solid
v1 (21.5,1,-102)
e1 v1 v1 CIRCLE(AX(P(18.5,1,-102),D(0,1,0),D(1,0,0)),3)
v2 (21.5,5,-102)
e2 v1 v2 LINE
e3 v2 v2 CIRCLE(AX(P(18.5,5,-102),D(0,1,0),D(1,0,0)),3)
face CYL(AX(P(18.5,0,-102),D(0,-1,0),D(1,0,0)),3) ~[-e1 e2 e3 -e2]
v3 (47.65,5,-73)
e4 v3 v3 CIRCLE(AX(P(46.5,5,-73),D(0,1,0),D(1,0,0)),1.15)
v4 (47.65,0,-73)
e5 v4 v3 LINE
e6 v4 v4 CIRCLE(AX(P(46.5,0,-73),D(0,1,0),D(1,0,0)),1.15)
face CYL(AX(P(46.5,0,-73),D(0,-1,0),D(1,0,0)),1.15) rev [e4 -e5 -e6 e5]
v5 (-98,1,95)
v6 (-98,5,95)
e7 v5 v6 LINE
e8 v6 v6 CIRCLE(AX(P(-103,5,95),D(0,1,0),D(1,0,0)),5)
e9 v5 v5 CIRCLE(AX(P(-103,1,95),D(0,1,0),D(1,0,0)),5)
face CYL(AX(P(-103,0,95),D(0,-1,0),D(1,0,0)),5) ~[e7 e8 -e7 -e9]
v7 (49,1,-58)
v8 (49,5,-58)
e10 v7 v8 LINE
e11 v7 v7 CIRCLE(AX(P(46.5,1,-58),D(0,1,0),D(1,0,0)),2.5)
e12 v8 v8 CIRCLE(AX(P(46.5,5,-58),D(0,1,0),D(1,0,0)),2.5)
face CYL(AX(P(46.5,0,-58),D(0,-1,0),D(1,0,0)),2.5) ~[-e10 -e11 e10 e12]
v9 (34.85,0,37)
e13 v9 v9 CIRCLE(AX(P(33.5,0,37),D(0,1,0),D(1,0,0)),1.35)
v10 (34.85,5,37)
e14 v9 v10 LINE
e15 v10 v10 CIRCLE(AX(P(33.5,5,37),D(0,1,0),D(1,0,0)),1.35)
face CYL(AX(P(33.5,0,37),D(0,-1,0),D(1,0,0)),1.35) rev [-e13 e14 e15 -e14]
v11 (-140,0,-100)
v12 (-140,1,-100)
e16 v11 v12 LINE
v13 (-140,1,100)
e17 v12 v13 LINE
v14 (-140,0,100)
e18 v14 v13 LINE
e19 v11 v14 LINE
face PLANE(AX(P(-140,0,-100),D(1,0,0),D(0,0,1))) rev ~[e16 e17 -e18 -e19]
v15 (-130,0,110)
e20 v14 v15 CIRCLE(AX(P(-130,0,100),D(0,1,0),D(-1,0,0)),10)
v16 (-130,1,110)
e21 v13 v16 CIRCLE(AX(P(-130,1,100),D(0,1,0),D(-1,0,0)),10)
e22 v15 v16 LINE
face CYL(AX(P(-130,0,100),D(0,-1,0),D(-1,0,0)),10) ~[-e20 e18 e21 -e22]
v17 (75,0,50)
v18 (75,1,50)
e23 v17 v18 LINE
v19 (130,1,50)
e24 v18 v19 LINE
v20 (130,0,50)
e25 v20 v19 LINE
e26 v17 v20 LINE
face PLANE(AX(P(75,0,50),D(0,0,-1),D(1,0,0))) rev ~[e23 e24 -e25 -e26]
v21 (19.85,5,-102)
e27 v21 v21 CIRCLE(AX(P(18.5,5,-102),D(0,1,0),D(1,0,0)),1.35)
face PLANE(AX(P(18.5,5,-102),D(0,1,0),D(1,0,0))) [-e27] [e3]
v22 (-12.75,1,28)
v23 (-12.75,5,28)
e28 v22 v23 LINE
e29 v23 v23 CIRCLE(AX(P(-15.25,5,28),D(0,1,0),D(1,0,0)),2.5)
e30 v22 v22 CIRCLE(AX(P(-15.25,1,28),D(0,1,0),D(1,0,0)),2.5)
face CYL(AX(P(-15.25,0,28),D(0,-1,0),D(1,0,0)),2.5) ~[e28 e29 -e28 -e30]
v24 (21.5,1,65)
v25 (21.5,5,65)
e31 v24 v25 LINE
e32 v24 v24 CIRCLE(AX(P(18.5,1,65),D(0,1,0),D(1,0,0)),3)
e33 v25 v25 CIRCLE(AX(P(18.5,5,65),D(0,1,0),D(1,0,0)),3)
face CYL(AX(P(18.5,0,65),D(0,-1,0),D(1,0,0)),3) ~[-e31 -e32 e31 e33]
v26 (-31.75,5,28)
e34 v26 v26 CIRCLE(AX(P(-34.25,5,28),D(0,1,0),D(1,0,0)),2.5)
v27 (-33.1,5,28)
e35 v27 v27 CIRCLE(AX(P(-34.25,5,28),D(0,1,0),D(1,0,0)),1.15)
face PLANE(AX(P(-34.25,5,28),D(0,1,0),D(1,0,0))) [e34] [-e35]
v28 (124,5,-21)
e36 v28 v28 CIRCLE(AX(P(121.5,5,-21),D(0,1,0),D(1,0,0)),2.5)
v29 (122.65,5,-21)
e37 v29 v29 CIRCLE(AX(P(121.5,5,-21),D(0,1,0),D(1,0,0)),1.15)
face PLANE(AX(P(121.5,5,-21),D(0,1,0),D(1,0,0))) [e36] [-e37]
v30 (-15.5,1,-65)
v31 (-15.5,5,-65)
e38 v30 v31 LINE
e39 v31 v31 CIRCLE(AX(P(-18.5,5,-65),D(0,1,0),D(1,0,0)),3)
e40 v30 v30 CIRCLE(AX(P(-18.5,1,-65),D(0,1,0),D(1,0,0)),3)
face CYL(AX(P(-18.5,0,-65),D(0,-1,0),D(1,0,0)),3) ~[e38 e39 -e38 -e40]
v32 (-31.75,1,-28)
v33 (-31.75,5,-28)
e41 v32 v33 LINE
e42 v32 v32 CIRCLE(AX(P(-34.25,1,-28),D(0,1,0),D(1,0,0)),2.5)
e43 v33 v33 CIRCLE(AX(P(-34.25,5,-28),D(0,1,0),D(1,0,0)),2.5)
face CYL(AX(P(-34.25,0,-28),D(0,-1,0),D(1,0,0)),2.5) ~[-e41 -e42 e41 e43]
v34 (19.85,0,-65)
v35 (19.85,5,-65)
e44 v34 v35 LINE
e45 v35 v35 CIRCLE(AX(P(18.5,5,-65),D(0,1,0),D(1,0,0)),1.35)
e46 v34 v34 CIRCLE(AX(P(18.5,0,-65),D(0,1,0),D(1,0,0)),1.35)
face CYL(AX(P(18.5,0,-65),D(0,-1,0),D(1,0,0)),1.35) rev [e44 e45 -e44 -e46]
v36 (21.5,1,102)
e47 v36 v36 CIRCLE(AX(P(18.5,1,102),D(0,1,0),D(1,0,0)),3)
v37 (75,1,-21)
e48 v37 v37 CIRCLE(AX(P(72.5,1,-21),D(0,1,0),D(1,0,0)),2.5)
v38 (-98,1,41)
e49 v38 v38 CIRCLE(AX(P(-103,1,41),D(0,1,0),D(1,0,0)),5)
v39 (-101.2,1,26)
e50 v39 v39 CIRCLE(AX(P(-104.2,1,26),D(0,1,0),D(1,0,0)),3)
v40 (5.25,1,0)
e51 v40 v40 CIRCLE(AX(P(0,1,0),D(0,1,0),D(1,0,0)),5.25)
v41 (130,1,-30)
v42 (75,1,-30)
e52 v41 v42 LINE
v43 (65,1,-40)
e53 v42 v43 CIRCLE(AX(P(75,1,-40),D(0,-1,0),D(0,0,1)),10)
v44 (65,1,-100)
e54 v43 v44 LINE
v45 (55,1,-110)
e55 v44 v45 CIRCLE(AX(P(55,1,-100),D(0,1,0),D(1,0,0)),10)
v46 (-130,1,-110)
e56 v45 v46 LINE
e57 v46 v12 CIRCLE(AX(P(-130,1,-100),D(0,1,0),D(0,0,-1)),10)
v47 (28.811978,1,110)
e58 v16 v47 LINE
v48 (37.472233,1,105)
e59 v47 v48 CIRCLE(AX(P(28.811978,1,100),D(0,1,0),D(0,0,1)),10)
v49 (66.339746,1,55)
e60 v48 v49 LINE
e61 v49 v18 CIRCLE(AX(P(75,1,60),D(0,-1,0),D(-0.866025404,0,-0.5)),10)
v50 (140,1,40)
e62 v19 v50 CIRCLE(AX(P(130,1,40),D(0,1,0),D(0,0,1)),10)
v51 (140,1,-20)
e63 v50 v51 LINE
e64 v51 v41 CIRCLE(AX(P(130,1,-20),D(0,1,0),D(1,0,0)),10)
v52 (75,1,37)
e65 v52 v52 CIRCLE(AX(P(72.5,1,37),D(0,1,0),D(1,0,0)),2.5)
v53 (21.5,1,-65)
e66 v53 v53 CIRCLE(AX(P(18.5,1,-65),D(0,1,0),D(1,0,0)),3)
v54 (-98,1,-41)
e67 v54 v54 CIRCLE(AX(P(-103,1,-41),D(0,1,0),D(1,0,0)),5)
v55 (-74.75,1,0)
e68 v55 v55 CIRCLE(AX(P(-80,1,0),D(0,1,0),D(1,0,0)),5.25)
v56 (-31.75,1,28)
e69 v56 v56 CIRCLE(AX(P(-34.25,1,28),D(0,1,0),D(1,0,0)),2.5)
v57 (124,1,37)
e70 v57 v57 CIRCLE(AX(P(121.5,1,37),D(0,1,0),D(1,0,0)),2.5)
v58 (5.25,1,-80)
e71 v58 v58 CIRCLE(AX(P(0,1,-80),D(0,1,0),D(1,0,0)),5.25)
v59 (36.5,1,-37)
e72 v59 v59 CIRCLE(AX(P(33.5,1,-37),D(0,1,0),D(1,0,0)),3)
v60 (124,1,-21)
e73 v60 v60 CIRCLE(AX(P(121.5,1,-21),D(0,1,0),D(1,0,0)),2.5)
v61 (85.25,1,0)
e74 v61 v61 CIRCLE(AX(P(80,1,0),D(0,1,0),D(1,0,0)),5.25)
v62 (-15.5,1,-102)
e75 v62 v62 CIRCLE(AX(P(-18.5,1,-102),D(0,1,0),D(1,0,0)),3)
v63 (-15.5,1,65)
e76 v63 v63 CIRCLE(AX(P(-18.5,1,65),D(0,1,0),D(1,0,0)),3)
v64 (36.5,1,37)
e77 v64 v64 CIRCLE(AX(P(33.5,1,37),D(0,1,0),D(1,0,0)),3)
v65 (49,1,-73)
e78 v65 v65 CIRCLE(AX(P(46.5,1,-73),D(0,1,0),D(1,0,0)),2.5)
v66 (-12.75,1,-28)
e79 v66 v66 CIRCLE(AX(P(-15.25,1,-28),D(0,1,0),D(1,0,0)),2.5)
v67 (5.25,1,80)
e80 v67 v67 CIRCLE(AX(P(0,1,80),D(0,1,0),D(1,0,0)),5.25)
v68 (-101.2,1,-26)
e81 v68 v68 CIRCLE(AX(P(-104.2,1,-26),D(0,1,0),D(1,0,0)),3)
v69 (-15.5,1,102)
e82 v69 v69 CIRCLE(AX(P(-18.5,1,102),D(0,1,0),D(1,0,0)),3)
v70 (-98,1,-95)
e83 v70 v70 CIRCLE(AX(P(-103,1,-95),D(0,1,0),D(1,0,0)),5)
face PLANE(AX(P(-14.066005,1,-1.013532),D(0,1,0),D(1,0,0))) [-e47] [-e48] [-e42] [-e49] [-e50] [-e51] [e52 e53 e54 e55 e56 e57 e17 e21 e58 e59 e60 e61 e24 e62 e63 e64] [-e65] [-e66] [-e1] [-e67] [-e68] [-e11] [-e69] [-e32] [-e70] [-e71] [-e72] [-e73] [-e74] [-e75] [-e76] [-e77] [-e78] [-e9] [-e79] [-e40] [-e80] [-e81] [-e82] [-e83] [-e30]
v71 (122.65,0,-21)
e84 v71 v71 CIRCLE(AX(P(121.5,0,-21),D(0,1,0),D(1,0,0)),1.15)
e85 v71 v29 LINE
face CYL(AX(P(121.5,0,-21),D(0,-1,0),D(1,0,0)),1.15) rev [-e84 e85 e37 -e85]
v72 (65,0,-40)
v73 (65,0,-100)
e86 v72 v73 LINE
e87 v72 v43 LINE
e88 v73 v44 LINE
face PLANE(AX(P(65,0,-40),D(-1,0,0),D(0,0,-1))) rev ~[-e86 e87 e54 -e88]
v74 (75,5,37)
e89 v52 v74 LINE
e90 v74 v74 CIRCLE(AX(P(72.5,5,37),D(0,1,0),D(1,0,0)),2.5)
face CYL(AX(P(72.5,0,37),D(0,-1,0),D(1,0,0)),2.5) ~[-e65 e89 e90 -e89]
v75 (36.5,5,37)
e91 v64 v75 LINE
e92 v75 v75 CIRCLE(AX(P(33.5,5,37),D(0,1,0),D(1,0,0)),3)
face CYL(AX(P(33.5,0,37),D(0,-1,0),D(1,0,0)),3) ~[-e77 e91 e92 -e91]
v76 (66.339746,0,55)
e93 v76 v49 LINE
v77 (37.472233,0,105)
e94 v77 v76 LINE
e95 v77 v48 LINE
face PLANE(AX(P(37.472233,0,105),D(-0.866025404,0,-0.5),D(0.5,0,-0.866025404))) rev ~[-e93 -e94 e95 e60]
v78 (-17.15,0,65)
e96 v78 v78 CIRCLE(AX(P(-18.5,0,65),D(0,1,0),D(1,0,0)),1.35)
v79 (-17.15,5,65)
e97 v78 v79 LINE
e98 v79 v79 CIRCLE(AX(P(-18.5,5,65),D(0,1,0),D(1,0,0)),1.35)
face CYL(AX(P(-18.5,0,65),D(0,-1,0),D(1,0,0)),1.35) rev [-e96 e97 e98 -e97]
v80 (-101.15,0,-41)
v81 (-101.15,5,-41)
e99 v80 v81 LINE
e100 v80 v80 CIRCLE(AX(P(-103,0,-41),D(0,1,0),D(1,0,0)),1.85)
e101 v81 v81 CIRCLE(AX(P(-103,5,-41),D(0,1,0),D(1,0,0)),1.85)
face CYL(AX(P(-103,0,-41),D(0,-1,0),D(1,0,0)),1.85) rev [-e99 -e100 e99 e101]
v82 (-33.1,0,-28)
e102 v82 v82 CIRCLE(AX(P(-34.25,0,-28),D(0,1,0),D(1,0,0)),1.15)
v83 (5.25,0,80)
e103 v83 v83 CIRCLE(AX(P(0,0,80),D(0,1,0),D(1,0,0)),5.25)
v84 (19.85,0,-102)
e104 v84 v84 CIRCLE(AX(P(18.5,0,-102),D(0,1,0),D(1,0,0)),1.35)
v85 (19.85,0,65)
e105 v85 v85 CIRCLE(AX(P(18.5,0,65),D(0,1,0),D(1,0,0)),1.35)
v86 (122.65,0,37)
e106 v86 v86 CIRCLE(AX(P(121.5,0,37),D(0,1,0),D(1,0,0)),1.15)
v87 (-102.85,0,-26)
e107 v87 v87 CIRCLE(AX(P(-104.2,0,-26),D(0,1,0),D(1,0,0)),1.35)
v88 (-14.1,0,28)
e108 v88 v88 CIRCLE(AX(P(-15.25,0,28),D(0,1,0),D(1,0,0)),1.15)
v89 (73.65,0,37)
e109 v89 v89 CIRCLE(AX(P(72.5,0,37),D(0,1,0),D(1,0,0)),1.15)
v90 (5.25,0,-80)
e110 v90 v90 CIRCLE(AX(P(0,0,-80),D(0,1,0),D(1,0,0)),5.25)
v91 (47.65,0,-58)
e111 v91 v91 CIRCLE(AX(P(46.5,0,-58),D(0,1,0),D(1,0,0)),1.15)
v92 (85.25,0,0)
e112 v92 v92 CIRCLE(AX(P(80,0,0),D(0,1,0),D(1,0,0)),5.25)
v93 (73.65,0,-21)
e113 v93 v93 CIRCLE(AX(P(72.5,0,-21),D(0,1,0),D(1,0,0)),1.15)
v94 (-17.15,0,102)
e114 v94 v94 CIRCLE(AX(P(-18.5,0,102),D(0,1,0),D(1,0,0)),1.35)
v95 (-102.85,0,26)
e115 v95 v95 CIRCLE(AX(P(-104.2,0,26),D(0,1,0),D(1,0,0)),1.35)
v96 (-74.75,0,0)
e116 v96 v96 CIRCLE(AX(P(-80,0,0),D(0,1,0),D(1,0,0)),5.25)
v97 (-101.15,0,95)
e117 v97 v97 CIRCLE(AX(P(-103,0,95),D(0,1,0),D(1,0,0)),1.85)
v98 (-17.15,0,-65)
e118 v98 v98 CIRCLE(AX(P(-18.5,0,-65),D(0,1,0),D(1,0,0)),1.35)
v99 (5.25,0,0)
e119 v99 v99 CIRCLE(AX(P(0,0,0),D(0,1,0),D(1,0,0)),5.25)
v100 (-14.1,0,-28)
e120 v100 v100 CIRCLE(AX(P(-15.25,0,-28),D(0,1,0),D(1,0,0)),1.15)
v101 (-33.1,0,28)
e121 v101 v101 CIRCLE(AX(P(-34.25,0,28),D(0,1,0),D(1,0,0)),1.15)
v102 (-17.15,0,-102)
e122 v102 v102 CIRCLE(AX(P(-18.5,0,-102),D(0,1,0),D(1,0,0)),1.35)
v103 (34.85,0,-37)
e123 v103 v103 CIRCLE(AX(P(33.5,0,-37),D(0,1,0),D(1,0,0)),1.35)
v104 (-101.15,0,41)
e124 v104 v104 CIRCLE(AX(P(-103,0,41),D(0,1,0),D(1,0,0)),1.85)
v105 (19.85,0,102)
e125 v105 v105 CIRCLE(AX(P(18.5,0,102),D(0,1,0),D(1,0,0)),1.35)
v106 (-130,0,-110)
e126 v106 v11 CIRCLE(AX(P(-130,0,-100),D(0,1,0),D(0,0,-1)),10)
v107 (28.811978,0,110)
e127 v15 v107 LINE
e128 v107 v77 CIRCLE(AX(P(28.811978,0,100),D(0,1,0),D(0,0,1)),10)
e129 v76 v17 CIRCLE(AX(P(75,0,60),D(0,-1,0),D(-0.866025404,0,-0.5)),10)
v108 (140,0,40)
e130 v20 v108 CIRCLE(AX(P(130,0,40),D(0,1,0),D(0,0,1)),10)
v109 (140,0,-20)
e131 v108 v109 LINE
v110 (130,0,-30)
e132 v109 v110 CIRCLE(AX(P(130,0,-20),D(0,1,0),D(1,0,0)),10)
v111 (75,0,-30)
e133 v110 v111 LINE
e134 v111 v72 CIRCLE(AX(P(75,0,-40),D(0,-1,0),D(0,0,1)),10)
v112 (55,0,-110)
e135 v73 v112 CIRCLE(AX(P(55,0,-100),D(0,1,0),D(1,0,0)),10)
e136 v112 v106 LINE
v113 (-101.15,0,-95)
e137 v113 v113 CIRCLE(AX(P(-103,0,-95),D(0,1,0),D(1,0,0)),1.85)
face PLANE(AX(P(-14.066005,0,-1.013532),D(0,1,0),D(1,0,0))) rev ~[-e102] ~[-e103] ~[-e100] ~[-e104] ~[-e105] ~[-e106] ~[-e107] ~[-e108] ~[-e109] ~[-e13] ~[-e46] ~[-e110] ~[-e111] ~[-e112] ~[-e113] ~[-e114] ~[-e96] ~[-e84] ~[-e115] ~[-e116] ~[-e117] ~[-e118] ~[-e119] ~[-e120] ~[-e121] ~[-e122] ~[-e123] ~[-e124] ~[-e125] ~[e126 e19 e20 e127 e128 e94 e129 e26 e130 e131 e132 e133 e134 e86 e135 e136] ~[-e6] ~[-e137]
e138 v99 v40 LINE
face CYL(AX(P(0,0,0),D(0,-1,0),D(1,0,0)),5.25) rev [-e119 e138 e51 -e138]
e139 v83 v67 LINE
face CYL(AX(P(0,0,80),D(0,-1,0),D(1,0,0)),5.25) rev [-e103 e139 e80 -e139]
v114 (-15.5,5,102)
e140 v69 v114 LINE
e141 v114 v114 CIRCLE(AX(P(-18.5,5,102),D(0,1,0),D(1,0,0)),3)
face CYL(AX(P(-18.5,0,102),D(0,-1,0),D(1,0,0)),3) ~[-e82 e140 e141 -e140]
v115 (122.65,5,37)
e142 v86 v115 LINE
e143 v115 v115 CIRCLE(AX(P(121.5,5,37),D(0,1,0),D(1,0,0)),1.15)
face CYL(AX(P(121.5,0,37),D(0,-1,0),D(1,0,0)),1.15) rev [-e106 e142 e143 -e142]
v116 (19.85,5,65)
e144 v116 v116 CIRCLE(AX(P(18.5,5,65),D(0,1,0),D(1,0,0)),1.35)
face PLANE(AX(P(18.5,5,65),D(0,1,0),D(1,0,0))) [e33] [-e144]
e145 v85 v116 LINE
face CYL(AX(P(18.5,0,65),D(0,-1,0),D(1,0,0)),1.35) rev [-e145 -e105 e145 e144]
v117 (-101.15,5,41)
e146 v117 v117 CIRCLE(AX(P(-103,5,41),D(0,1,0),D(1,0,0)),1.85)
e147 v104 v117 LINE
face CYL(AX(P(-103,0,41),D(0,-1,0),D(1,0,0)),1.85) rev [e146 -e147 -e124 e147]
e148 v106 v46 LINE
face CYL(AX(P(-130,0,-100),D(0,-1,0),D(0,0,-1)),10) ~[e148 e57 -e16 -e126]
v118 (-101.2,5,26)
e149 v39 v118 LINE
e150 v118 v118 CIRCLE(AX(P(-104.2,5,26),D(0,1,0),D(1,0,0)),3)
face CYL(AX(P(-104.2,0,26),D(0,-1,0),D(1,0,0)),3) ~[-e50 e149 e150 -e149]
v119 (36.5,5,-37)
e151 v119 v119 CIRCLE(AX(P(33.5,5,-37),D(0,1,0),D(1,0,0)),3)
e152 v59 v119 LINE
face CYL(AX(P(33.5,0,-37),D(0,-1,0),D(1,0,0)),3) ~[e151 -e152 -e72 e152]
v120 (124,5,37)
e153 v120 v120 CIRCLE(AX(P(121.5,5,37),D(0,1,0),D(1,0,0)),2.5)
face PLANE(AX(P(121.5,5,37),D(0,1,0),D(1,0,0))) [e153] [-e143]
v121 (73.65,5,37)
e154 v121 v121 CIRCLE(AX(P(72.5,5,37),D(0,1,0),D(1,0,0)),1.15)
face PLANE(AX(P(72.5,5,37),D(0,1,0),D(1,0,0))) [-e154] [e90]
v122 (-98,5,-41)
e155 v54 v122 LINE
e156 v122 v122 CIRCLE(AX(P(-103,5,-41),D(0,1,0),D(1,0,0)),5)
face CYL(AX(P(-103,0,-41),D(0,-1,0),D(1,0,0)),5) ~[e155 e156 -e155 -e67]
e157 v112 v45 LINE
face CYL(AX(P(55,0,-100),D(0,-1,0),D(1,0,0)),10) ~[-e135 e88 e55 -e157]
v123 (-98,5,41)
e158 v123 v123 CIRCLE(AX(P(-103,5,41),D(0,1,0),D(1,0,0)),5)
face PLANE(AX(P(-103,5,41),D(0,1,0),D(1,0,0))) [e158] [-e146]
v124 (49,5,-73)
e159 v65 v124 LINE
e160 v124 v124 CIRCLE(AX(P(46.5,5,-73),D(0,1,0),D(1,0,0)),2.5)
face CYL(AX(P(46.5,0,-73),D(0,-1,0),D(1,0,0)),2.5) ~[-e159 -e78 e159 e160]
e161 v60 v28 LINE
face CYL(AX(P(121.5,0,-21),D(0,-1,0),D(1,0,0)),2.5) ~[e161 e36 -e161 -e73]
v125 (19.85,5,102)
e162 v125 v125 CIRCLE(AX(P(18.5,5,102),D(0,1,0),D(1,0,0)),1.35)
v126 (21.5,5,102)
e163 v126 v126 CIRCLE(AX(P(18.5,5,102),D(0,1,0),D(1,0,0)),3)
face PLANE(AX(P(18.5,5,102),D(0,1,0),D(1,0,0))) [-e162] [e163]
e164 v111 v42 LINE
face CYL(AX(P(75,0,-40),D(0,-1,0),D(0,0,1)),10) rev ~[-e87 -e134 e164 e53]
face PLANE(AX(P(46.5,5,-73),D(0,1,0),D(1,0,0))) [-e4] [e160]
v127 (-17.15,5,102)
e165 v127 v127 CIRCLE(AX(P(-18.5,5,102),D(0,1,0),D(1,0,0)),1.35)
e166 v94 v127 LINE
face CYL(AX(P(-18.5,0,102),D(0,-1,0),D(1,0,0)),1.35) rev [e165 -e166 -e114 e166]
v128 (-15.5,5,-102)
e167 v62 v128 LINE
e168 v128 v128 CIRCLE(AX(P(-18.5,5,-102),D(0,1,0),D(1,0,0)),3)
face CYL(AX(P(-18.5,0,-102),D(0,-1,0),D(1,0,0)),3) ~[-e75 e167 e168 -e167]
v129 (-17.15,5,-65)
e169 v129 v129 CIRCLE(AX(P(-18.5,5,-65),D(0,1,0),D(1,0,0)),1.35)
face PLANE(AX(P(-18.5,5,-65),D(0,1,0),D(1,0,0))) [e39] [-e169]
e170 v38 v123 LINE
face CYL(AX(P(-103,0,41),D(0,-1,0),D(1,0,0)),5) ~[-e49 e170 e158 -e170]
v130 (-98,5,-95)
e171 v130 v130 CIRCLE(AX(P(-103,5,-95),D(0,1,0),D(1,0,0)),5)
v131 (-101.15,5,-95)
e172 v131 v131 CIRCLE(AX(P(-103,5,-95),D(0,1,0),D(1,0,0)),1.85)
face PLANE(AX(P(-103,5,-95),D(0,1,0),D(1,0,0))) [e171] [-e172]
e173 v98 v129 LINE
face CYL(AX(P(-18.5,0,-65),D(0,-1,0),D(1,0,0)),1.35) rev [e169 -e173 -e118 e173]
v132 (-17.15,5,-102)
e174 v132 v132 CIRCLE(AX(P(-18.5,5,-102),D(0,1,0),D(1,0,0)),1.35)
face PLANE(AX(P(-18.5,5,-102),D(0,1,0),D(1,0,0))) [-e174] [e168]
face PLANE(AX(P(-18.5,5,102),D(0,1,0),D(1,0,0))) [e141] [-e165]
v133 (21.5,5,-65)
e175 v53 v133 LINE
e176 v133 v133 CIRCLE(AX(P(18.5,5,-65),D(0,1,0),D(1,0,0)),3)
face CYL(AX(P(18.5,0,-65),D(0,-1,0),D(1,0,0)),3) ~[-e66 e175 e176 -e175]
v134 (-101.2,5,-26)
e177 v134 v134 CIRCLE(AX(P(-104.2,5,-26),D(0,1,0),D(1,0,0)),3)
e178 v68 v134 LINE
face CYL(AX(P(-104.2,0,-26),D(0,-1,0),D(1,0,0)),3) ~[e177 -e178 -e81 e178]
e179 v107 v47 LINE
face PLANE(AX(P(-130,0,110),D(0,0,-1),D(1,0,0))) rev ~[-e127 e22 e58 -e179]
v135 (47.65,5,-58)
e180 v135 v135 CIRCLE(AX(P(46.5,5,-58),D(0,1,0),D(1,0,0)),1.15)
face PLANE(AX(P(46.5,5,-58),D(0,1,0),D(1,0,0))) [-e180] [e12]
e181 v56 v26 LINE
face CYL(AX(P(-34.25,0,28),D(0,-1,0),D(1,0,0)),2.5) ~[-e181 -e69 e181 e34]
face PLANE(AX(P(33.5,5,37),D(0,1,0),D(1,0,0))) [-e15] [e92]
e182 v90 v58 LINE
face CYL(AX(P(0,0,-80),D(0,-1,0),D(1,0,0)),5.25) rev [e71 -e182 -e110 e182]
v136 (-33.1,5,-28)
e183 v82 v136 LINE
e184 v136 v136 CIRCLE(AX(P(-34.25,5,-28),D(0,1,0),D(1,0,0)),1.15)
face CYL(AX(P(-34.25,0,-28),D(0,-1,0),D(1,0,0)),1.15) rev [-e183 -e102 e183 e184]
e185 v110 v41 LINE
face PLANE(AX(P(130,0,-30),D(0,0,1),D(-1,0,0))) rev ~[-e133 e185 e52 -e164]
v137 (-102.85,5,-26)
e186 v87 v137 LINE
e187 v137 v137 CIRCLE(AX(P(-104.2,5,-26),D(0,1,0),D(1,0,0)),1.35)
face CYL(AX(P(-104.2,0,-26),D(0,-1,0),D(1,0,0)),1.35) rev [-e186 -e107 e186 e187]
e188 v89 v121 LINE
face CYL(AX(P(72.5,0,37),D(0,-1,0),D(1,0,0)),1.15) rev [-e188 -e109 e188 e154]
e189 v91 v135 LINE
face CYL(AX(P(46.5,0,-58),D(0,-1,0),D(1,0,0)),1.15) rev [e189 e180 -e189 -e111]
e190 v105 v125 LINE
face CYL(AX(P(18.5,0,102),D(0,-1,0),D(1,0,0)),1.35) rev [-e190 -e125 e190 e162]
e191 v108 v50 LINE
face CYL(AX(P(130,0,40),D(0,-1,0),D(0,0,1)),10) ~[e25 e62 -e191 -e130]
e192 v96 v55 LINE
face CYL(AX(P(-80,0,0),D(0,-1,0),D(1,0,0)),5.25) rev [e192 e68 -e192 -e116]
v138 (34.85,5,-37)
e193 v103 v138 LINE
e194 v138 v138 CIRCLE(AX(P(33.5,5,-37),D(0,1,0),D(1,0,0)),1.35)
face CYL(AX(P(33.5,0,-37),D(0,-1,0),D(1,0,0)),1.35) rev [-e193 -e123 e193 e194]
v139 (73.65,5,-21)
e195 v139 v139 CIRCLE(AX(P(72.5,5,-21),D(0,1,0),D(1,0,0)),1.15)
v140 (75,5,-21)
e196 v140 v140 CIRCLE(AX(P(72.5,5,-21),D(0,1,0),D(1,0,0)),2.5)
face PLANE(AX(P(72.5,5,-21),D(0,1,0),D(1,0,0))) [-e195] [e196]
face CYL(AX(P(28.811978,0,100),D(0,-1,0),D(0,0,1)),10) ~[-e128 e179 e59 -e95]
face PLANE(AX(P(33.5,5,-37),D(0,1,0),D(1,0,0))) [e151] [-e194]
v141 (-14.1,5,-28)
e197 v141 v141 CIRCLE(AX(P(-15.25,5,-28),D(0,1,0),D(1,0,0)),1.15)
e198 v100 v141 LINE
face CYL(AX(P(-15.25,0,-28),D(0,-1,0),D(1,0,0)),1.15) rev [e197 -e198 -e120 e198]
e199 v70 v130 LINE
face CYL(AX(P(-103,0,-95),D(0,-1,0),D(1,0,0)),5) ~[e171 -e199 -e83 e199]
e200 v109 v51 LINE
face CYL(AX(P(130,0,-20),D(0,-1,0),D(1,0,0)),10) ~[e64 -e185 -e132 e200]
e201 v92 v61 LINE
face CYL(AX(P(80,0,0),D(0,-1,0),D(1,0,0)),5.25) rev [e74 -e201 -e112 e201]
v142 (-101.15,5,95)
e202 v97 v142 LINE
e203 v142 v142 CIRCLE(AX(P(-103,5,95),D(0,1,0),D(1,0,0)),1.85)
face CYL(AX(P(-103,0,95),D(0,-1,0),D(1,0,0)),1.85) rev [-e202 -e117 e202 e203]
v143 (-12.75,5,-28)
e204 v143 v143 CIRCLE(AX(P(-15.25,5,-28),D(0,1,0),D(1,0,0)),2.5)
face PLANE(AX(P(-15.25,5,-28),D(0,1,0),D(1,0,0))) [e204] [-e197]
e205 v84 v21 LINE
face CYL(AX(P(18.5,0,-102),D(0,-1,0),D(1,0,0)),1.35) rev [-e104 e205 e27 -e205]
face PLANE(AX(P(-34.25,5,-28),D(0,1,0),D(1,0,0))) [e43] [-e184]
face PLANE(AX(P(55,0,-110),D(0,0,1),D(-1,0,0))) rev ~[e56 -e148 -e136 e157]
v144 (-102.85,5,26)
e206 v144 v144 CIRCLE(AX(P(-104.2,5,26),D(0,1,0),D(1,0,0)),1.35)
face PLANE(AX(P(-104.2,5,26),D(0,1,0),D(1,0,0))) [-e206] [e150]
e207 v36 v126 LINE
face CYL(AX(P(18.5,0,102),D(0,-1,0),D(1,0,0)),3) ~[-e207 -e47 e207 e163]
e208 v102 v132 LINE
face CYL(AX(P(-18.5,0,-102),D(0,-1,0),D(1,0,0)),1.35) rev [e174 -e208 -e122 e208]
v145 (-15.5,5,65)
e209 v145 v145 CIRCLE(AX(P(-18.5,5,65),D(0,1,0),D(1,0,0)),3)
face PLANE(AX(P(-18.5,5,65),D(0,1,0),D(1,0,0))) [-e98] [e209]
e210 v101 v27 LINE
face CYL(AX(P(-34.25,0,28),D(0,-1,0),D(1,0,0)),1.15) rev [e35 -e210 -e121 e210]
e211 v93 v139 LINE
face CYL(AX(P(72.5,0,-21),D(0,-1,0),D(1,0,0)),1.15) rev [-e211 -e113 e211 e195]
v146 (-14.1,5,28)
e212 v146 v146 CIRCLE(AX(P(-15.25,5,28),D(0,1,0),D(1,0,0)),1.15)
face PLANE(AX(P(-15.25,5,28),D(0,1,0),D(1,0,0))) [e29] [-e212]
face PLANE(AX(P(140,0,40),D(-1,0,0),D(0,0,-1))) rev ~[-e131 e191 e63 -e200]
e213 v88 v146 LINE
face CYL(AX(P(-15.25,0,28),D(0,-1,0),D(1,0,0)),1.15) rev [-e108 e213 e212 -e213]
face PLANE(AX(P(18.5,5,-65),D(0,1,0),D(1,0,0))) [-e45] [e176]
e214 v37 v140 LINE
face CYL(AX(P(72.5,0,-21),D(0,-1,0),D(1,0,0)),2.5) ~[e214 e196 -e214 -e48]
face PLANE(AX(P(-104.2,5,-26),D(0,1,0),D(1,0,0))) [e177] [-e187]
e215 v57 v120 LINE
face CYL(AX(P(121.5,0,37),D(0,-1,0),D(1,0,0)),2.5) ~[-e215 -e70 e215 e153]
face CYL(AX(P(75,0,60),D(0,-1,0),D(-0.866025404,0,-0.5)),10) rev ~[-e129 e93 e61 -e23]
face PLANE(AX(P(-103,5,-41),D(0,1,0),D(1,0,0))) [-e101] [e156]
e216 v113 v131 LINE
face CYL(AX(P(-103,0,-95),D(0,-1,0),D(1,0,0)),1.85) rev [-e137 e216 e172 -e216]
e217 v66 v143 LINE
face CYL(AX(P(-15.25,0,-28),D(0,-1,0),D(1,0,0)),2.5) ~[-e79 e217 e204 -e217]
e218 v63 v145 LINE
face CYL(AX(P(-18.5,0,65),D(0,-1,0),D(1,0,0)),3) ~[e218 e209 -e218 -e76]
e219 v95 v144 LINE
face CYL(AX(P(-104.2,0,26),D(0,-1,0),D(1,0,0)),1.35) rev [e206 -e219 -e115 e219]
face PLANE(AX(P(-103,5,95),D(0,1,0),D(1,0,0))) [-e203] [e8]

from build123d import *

# Parameters (mm, degrees)
SKETCH1_R              = 5
SKETCH1_R_2            = 1.85
BOSS_EXTRUDE1_DEPTH    = 5
SKETCH1_R_3            = 3
SKETCH1_R_4            = 1.35
BOSS_EXTRUDE1_2_DEPTH  = 5
BOSS_EXTRUDE1_3_DEPTH  = 5
BOSS_EXTRUDE1_4_DEPTH  = 5
BOSS_EXTRUDE1_5_DEPTH  = 5
SKETCH1_R_5            = 2.5
SKETCH1_R_6            = 1.15
BOSS_EXTRUDE1_6_DEPTH  = 5
BOSS_EXTRUDE1_7_DEPTH  = 5
BOSS_EXTRUDE1_8_DEPTH  = 5
BOSS_EXTRUDE1_9_DEPTH  = 5
BOSS_EXTRUDE1_10_DEPTH = 5
BOSS_EXTRUDE1_11_DEPTH = 5
BOSS_EXTRUDE1_12_DEPTH = 5
BOSS_EXTRUDE1_13_DEPTH = 5
BOSS_EXTRUDE1_14_DEPTH = 5
BOSS_EXTRUDE1_15_DEPTH = 5
BOSS_EXTRUDE1_16_DEPTH = 5
BOSS_EXTRUDE1_17_DEPTH = 5
BOSS_EXTRUDE1_18_DEPTH = 5
BOSS_EXTRUDE1_19_DEPTH = 5
BOSS_EXTRUDE1_20_DEPTH = 5
BOSS_EXTRUDE1_21_DEPTH = 5
BOSS_EXTRUDE1_22_DEPTH = 5
BOSS_EXTRUDE1_23_DEPTH = 5
BOSS_EXTRUDE1_24_DEPTH = 5
BOSS_EXTRUDE1_25_DEPTH = 5
BOSS_EXTRUDE1_26_DEPTH = 5
SKETCH1_4_R            = 5
SKETCH1_4_R_2          = 3
SKETCH1_4_R_3          = 2.5
SKETCH1_4_R_4          = 5.25
BOSS_EXTRUDE2_DEPTH    = 1


with BuildPart() as part:
    # Sketch1 → Boss-Extrude1 (new body)
    with BuildSketch(Plane(origin=(0, 0, 0), x_dir=(1, 0, 0), z_dir=(0, 1, 0))):
        with Locations((-103, -95)):
            Circle(SKETCH1_R)
        with Locations((-103, -95)):
            Circle(SKETCH1_R_2, mode=Mode.SUBTRACT)
    extrude(amount=BOSS_EXTRUDE1_DEPTH)



with BuildPart() as body_2:
    # Sketch1 → Boss-Extrude1 2 (new body)
    with BuildSketch(Plane(origin=(0, 0, 0), x_dir=(1, 0, 0), z_dir=(0, 1, 0))):
        with Locations((-18.5, -102)):
            Circle(SKETCH1_R_3)
        with Locations((-18.5, -102)):
            Circle(SKETCH1_R_4, mode=Mode.SUBTRACT)
    extrude(amount=BOSS_EXTRUDE1_2_DEPTH)


with BuildPart() as body_3:
    # Sketch1 → Boss-Extrude1 3 (new body)
    with BuildSketch(Plane(origin=(0, 0, 0), x_dir=(1, 0, 0), z_dir=(0, 1, 0))):
        with Locations((18.5, -102)):
            Circle(SKETCH1_R_3)
        with Locations((18.5, -102)):
            Circle(SKETCH1_R_4, mode=Mode.SUBTRACT)
    extrude(amount=BOSS_EXTRUDE1_3_DEPTH)


with BuildPart() as body_4:
    # Sketch1 → Boss-Extrude1 4 (new body)
    with BuildSketch(Plane(origin=(0, 0, 0), x_dir=(1, 0, 0), z_dir=(0, 1, 0))):
        with Locations((18.5, -65)):
            Circle(SKETCH1_R_3)
        with Locations((18.5, -65)):
            Circle(SKETCH1_R_4, mode=Mode.SUBTRACT)
    extrude(amount=BOSS_EXTRUDE1_4_DEPTH)


with BuildPart() as body_5:
    # Sketch1 → Boss-Extrude1 5 (new body)
    with BuildSketch(Plane(origin=(0, 0, 0), x_dir=(1, 0, 0), z_dir=(0, 1, 0))):
        with Locations((-18.5, -65)):
            Circle(SKETCH1_R_3)
        with Locations((-18.5, -65)):
            Circle(SKETCH1_R_4, mode=Mode.SUBTRACT)
    extrude(amount=BOSS_EXTRUDE1_5_DEPTH)


with BuildPart() as body_6:
    # Sketch1 → Boss-Extrude1 6 (new body)
    with BuildSketch(Plane(origin=(0, 0, 0), x_dir=(1, 0, 0), z_dir=(0, 1, 0))):
        with Locations((72.5, -37)):
            Circle(SKETCH1_R_5)
        with Locations((72.5, -37)):
            Circle(SKETCH1_R_6, mode=Mode.SUBTRACT)
    extrude(amount=BOSS_EXTRUDE1_6_DEPTH)


with BuildPart() as body_7:
    # Sketch1 → Boss-Extrude1 7 (new body)
    with BuildSketch(Plane(origin=(0, 0, 0), x_dir=(1, 0, 0), z_dir=(0, 1, 0))):
        with Locations((121.5, -37)):
            Circle(SKETCH1_R_5)
        with Locations((121.5, -37)):
            Circle(SKETCH1_R_6, mode=Mode.SUBTRACT)
    extrude(amount=BOSS_EXTRUDE1_7_DEPTH)


with BuildPart() as body_8:
    # Sketch1 → Boss-Extrude1 8 (new body)
    with BuildSketch(Plane(origin=(0, 0, 0), x_dir=(1, 0, 0), z_dir=(0, 1, 0))):
        with Locations((121.5, 21)):
            Circle(SKETCH1_R_5)
        with Locations((121.5, 21)):
            Circle(SKETCH1_R_6, mode=Mode.SUBTRACT)
    extrude(amount=BOSS_EXTRUDE1_8_DEPTH)


with BuildPart() as body_9:
    # Sketch1 → Boss-Extrude1 9 (new body)
    with BuildSketch(Plane(origin=(0, 0, 0), x_dir=(1, 0, 0), z_dir=(0, 1, 0))):
        with Locations((72.5, 21)):
            Circle(SKETCH1_R_5)
        with Locations((72.5, 21)):
            Circle(SKETCH1_R_6, mode=Mode.SUBTRACT)
    extrude(amount=BOSS_EXTRUDE1_9_DEPTH)


with BuildPart() as body_10:
    # Sketch1 → Boss-Extrude1 10 (new body)
    with BuildSketch(Plane(origin=(0, 0, 0), x_dir=(1, 0, 0), z_dir=(0, 1, 0))):
        with Locations((46.5, 58)):
            Circle(SKETCH1_R_5)
        with Locations((46.5, 58)):
            Circle(SKETCH1_R_6, mode=Mode.SUBTRACT)
    extrude(amount=BOSS_EXTRUDE1_10_DEPTH)


with BuildPart() as body_11:
    # Sketch1 → Boss-Extrude1 11 (new body)
    with BuildSketch(Plane(origin=(0, 0, 0), x_dir=(1, 0, 0), z_dir=(0, 1, 0))):
        with Locations((46.5, 73)):
            Circle(SKETCH1_R_5)
        with Locations((46.5, 73)):
            Circle(SKETCH1_R_6, mode=Mode.SUBTRACT)
    extrude(amount=BOSS_EXTRUDE1_11_DEPTH)


with BuildPart() as body_12:
    # Sketch1 → Boss-Extrude1 12 (new body)
    with BuildSketch(Plane(origin=(0, 0, 0), x_dir=(1, 0, 0), z_dir=(0, 1, 0))):
        with Locations((-18.5, 102)):
            Circle(SKETCH1_R_3)
        with Locations((-18.5, 102)):
            Circle(SKETCH1_R_4, mode=Mode.SUBTRACT)
    extrude(amount=BOSS_EXTRUDE1_12_DEPTH)


with BuildPart() as body_13:
    # Sketch1 → Boss-Extrude1 13 (new body)
    with BuildSketch(Plane(origin=(0, 0, 0), x_dir=(1, 0, 0), z_dir=(0, 1, 0))):
        with Locations((18.5, 102)):
            Circle(SKETCH1_R_3)
        with Locations((18.5, 102)):
            Circle(SKETCH1_R_4, mode=Mode.SUBTRACT)
    extrude(amount=BOSS_EXTRUDE1_13_DEPTH)


with BuildPart() as body_14:
    # Sketch1 → Boss-Extrude1 14 (new body)
    with BuildSketch(Plane(origin=(0, 0, 0), x_dir=(1, 0, 0), z_dir=(0, 1, 0))):
        with Locations((18.5, 65)):
            Circle(SKETCH1_R_3)
        with Locations((18.5, 65)):
            Circle(SKETCH1_R_4, mode=Mode.SUBTRACT)
    extrude(amount=BOSS_EXTRUDE1_14_DEPTH)


with BuildPart() as body_15:
    # Sketch1 → Boss-Extrude1 15 (new body)
    with BuildSketch(Plane(origin=(0, 0, 0), x_dir=(1, 0, 0), z_dir=(0, 1, 0))):
        with Locations((-18.5, 65)):
            Circle(SKETCH1_R_3)
        with Locations((-18.5, 65)):
            Circle(SKETCH1_R_4, mode=Mode.SUBTRACT)
    extrude(amount=BOSS_EXTRUDE1_15_DEPTH)


with BuildPart() as body_16:
    # Sketch1 → Boss-Extrude1 16 (new body)
    with BuildSketch(Plane(origin=(0, 0, 0), x_dir=(1, 0, 0), z_dir=(0, 1, 0))):
        with Locations((-103, 95)):
            Circle(SKETCH1_R)
        with Locations((-103, 95)):
            Circle(SKETCH1_R_2, mode=Mode.SUBTRACT)
    extrude(amount=BOSS_EXTRUDE1_16_DEPTH)


with BuildPart() as body_17:
    # Sketch1 → Boss-Extrude1 17 (new body)
    with BuildSketch(Plane(origin=(0, 0, 0), x_dir=(1, 0, 0), z_dir=(0, 1, 0))):
        with Locations((-103, 41)):
            Circle(SKETCH1_R)
        with Locations((-103, 41)):
            Circle(SKETCH1_R_2, mode=Mode.SUBTRACT)
    extrude(amount=BOSS_EXTRUDE1_17_DEPTH)


with BuildPart() as body_18:
    # Sketch1 → Boss-Extrude1 18 (new body)
    with BuildSketch(Plane(origin=(0, 0, 0), x_dir=(1, 0, 0), z_dir=(0, 1, 0))):
        with Locations((-104.2, 26)):
            Circle(SKETCH1_R_3)
        with Locations((-104.2, 26)):
            Circle(SKETCH1_R_4, mode=Mode.SUBTRACT)
    extrude(amount=BOSS_EXTRUDE1_18_DEPTH)


with BuildPart() as body_19:
    # Sketch1 → Boss-Extrude1 19 (new body)
    with BuildSketch(Plane(origin=(0, 0, 0), x_dir=(1, 0, 0), z_dir=(0, 1, 0))):
        with Locations((-104.2, -26)):
            Circle(SKETCH1_R_3)
        with Locations((-104.2, -26)):
            Circle(SKETCH1_R_4, mode=Mode.SUBTRACT)
    extrude(amount=BOSS_EXTRUDE1_19_DEPTH)


with BuildPart() as body_20:
    # Sketch1 → Boss-Extrude1 20 (new body)
    with BuildSketch(Plane(origin=(0, 0, 0), x_dir=(1, 0, 0), z_dir=(0, 1, 0))):
        with Locations((-103, -41)):
            Circle(SKETCH1_R)
        with Locations((-103, -41)):
            Circle(SKETCH1_R_2, mode=Mode.SUBTRACT)
    extrude(amount=BOSS_EXTRUDE1_20_DEPTH)


with BuildPart() as body_21:
    # Sketch1 → Boss-Extrude1 21 (new body)
    with BuildSketch(Plane(origin=(0, 0, 0), x_dir=(1, 0, 0), z_dir=(0, 1, 0))):
        with Locations((-15.25, -28)):
            Circle(SKETCH1_R_5)
        with Locations((-15.25, -28)):
            Circle(SKETCH1_R_6, mode=Mode.SUBTRACT)
    extrude(amount=BOSS_EXTRUDE1_21_DEPTH)


with BuildPart() as body_22:
    # Sketch1 → Boss-Extrude1 22 (new body)
    with BuildSketch(Plane(origin=(0, 0, 0), x_dir=(1, 0, 0), z_dir=(0, 1, 0))):
        with Locations((-34.25, -28)):
            Circle(SKETCH1_R_5)
        with Locations((-34.25, -28)):
            Circle(SKETCH1_R_6, mode=Mode.SUBTRACT)
    extrude(amount=BOSS_EXTRUDE1_22_DEPTH)


with BuildPart() as body_23:
    # Sketch1 → Boss-Extrude1 23 (new body)
    with BuildSketch(Plane(origin=(0, 0, 0), x_dir=(1, 0, 0), z_dir=(0, 1, 0))):
        with Locations((-34.25, 28)):
            Circle(SKETCH1_R_5)
        with Locations((-34.25, 28)):
            Circle(SKETCH1_R_6, mode=Mode.SUBTRACT)
    extrude(amount=BOSS_EXTRUDE1_23_DEPTH)


with BuildPart() as body_24:
    # Sketch1 → Boss-Extrude1 24 (new body)
    with BuildSketch(Plane(origin=(0, 0, 0), x_dir=(1, 0, 0), z_dir=(0, 1, 0))):
        with Locations((-15.25, 28)):
            Circle(SKETCH1_R_5)
        with Locations((-15.25, 28)):
            Circle(SKETCH1_R_6, mode=Mode.SUBTRACT)
    extrude(amount=BOSS_EXTRUDE1_24_DEPTH)


with BuildPart() as body_25:
    # Sketch1 → Boss-Extrude1 25 (new body)
    with BuildSketch(Plane(origin=(0, 0, 0), x_dir=(1, 0, 0), z_dir=(0, 1, 0))):
        with Locations((33.5, -37)):
            Circle(SKETCH1_R_3)
        with Locations((33.5, -37)):
            Circle(SKETCH1_R_4, mode=Mode.SUBTRACT)
    extrude(amount=BOSS_EXTRUDE1_25_DEPTH)


with BuildPart() as body_26:
    # Sketch1 → Boss-Extrude1 26 (new body)
    with BuildSketch(Plane(origin=(0, 0, 0), x_dir=(1, 0, 0), z_dir=(0, 1, 0))):
        with Locations((33.5, 37)):
            Circle(SKETCH1_R_3)
        with Locations((33.5, 37)):
            Circle(SKETCH1_R_4, mode=Mode.SUBTRACT)
    extrude(amount=BOSS_EXTRUDE1_26_DEPTH)


with BuildPart() as part_1:
    add(part.part)

    add(body_2.part)  # Boss-Extrude2 merges body 2

    add(body_3.part)  # Boss-Extrude2 merges body 3

    add(body_4.part)  # Boss-Extrude2 merges body 4

    add(body_5.part)  # Boss-Extrude2 merges body 5

    add(body_6.part)  # Boss-Extrude2 merges body 6

    add(body_7.part)  # Boss-Extrude2 merges body 7

    add(body_8.part)  # Boss-Extrude2 merges body 8

    add(body_9.part)  # Boss-Extrude2 merges body 9

    add(body_10.part)  # Boss-Extrude2 merges body 10

    add(body_11.part)  # Boss-Extrude2 merges body 11

    add(body_12.part)  # Boss-Extrude2 merges body 12

    add(body_13.part)  # Boss-Extrude2 merges body 13

    add(body_14.part)  # Boss-Extrude2 merges body 14

    add(body_15.part)  # Boss-Extrude2 merges body 15

    add(body_16.part)  # Boss-Extrude2 merges body 16

    add(body_17.part)  # Boss-Extrude2 merges body 17

    add(body_18.part)  # Boss-Extrude2 merges body 18

    add(body_19.part)  # Boss-Extrude2 merges body 19

    add(body_20.part)  # Boss-Extrude2 merges body 20

    add(body_21.part)  # Boss-Extrude2 merges body 21

    add(body_22.part)  # Boss-Extrude2 merges body 22

    add(body_23.part)  # Boss-Extrude2 merges body 23

    add(body_24.part)  # Boss-Extrude2 merges body 24

    add(body_25.part)  # Boss-Extrude2 merges body 25

    add(body_26.part)  # Boss-Extrude2 merges body 26
    # Sketch1<4> → Boss-Extrude2 (add)
    with BuildSketch(Plane(origin=(0, 0, 0), x_dir=(1, 0, 0), z_dir=(0, 1, 0))):
        with BuildLine():
            ThreePointArc((-130, 110), (-137.071067812, 107.071067812), (-140, 100))
            Line((-140, 100), (-140, -100))
            ThreePointArc((-140, -100), (-137.071067812, -107.071067812), (-130, -110))
            Line((-130, -110), (28.811978465, -110))
            ThreePointArc((28.811978465, -110), (33.811978465, -108.660254038), (37.472232503, -105))
            Line((37.472232503, -105), (66.339745962, -55))
            ThreePointArc((66.339745962, -55), (70, -51.339745962), (75, -50))
            Line((75, -50), (130, -50))
            ThreePointArc((130, -50), (137.071067812, -47.071067812), (140, -40))
            Line((140, -40), (140, 20))
            ThreePointArc((140, 20), (137.071067812, 27.071067812), (130, 30))
            Line((130, 30), (75, 30))
            ThreePointArc((75, 30), (67.928932188, 32.928932188), (65, 40))
            Line((65, 40), (65, 100))
            ThreePointArc((65, 100), (62.071067812, 107.071067812), (55, 110))
            Line((55, 110), (-130, 110))
        make_face()
        with Locations((-103, -95)):
            Circle(SKETCH1_4_R, mode=Mode.SUBTRACT)
        with Locations((-18.5, -102)):
            Circle(SKETCH1_4_R_2, mode=Mode.SUBTRACT)
        with Locations((-18.5, -65)):
            Circle(SKETCH1_4_R_2, mode=Mode.SUBTRACT)
        with Locations((-103, -41)):
            Circle(SKETCH1_4_R, mode=Mode.SUBTRACT)
        with Locations((-104.2, -26)):
            Circle(SKETCH1_4_R_2, mode=Mode.SUBTRACT)
        with Locations((-34.25, -28)):
            Circle(SKETCH1_4_R_3, mode=Mode.SUBTRACT)
        with Locations((-15.25, -28)):
            Circle(SKETCH1_4_R_3, mode=Mode.SUBTRACT)
        with Locations((18.5, -102)):
            Circle(SKETCH1_4_R_2, mode=Mode.SUBTRACT)
        with Locations((0, -80)):
            Circle(SKETCH1_4_R_4, mode=Mode.SUBTRACT)
        with Locations((18.5, -65)):
            Circle(SKETCH1_4_R_2, mode=Mode.SUBTRACT)
        with Locations((33.5, -37)):
            Circle(SKETCH1_4_R_2, mode=Mode.SUBTRACT)
        with Locations((72.5, -37)):
            Circle(SKETCH1_4_R_3, mode=Mode.SUBTRACT)
        with Locations((121.5, -37)):
            Circle(SKETCH1_4_R_3, mode=Mode.SUBTRACT)
        with Locations((-80, 0)):
            Circle(SKETCH1_4_R_4, mode=Mode.SUBTRACT)
        with Locations((-104.2, 26)):
            Circle(SKETCH1_4_R_2, mode=Mode.SUBTRACT)
        with Locations((-103, 41)):
            Circle(SKETCH1_4_R, mode=Mode.SUBTRACT)
        with Locations((-34.25, 28)):
            Circle(SKETCH1_4_R_3, mode=Mode.SUBTRACT)
        with Locations((-15.25, 28)):
            Circle(SKETCH1_4_R_3, mode=Mode.SUBTRACT)
        with Locations((-103, 95)):
            Circle(SKETCH1_4_R, mode=Mode.SUBTRACT)
        with Locations((-18.5, 65)):
            Circle(SKETCH1_4_R_2, mode=Mode.SUBTRACT)
        with Locations((-18.5, 102)):
            Circle(SKETCH1_4_R_2, mode=Mode.SUBTRACT)
        Circle(SKETCH1_4_R_4, mode=Mode.SUBTRACT)
        with Locations((33.5, 37)):
            Circle(SKETCH1_4_R_2, mode=Mode.SUBTRACT)
        with Locations((80, 0)):
            Circle(SKETCH1_4_R_4, mode=Mode.SUBTRACT)
        with Locations((72.5, 21)):
            Circle(SKETCH1_4_R_3, mode=Mode.SUBTRACT)
        with Locations((121.5, 21)):
            Circle(SKETCH1_4_R_3, mode=Mode.SUBTRACT)
        with Locations((18.5, 65)):
            Circle(SKETCH1_4_R_2, mode=Mode.SUBTRACT)
        with Locations((0, 80)):
            Circle(SKETCH1_4_R_4, mode=Mode.SUBTRACT)
        with Locations((46.5, 58)):
            Circle(SKETCH1_4_R_3, mode=Mode.SUBTRACT)
        with Locations((46.5, 73)):
            Circle(SKETCH1_4_R_3, mode=Mode.SUBTRACT)
        with Locations((18.5, 102)):
            Circle(SKETCH1_4_R_2, mode=Mode.SUBTRACT)
    extrude(amount=BOSS_EXTRUDE2_DEPTH)


solid = part_1.part
